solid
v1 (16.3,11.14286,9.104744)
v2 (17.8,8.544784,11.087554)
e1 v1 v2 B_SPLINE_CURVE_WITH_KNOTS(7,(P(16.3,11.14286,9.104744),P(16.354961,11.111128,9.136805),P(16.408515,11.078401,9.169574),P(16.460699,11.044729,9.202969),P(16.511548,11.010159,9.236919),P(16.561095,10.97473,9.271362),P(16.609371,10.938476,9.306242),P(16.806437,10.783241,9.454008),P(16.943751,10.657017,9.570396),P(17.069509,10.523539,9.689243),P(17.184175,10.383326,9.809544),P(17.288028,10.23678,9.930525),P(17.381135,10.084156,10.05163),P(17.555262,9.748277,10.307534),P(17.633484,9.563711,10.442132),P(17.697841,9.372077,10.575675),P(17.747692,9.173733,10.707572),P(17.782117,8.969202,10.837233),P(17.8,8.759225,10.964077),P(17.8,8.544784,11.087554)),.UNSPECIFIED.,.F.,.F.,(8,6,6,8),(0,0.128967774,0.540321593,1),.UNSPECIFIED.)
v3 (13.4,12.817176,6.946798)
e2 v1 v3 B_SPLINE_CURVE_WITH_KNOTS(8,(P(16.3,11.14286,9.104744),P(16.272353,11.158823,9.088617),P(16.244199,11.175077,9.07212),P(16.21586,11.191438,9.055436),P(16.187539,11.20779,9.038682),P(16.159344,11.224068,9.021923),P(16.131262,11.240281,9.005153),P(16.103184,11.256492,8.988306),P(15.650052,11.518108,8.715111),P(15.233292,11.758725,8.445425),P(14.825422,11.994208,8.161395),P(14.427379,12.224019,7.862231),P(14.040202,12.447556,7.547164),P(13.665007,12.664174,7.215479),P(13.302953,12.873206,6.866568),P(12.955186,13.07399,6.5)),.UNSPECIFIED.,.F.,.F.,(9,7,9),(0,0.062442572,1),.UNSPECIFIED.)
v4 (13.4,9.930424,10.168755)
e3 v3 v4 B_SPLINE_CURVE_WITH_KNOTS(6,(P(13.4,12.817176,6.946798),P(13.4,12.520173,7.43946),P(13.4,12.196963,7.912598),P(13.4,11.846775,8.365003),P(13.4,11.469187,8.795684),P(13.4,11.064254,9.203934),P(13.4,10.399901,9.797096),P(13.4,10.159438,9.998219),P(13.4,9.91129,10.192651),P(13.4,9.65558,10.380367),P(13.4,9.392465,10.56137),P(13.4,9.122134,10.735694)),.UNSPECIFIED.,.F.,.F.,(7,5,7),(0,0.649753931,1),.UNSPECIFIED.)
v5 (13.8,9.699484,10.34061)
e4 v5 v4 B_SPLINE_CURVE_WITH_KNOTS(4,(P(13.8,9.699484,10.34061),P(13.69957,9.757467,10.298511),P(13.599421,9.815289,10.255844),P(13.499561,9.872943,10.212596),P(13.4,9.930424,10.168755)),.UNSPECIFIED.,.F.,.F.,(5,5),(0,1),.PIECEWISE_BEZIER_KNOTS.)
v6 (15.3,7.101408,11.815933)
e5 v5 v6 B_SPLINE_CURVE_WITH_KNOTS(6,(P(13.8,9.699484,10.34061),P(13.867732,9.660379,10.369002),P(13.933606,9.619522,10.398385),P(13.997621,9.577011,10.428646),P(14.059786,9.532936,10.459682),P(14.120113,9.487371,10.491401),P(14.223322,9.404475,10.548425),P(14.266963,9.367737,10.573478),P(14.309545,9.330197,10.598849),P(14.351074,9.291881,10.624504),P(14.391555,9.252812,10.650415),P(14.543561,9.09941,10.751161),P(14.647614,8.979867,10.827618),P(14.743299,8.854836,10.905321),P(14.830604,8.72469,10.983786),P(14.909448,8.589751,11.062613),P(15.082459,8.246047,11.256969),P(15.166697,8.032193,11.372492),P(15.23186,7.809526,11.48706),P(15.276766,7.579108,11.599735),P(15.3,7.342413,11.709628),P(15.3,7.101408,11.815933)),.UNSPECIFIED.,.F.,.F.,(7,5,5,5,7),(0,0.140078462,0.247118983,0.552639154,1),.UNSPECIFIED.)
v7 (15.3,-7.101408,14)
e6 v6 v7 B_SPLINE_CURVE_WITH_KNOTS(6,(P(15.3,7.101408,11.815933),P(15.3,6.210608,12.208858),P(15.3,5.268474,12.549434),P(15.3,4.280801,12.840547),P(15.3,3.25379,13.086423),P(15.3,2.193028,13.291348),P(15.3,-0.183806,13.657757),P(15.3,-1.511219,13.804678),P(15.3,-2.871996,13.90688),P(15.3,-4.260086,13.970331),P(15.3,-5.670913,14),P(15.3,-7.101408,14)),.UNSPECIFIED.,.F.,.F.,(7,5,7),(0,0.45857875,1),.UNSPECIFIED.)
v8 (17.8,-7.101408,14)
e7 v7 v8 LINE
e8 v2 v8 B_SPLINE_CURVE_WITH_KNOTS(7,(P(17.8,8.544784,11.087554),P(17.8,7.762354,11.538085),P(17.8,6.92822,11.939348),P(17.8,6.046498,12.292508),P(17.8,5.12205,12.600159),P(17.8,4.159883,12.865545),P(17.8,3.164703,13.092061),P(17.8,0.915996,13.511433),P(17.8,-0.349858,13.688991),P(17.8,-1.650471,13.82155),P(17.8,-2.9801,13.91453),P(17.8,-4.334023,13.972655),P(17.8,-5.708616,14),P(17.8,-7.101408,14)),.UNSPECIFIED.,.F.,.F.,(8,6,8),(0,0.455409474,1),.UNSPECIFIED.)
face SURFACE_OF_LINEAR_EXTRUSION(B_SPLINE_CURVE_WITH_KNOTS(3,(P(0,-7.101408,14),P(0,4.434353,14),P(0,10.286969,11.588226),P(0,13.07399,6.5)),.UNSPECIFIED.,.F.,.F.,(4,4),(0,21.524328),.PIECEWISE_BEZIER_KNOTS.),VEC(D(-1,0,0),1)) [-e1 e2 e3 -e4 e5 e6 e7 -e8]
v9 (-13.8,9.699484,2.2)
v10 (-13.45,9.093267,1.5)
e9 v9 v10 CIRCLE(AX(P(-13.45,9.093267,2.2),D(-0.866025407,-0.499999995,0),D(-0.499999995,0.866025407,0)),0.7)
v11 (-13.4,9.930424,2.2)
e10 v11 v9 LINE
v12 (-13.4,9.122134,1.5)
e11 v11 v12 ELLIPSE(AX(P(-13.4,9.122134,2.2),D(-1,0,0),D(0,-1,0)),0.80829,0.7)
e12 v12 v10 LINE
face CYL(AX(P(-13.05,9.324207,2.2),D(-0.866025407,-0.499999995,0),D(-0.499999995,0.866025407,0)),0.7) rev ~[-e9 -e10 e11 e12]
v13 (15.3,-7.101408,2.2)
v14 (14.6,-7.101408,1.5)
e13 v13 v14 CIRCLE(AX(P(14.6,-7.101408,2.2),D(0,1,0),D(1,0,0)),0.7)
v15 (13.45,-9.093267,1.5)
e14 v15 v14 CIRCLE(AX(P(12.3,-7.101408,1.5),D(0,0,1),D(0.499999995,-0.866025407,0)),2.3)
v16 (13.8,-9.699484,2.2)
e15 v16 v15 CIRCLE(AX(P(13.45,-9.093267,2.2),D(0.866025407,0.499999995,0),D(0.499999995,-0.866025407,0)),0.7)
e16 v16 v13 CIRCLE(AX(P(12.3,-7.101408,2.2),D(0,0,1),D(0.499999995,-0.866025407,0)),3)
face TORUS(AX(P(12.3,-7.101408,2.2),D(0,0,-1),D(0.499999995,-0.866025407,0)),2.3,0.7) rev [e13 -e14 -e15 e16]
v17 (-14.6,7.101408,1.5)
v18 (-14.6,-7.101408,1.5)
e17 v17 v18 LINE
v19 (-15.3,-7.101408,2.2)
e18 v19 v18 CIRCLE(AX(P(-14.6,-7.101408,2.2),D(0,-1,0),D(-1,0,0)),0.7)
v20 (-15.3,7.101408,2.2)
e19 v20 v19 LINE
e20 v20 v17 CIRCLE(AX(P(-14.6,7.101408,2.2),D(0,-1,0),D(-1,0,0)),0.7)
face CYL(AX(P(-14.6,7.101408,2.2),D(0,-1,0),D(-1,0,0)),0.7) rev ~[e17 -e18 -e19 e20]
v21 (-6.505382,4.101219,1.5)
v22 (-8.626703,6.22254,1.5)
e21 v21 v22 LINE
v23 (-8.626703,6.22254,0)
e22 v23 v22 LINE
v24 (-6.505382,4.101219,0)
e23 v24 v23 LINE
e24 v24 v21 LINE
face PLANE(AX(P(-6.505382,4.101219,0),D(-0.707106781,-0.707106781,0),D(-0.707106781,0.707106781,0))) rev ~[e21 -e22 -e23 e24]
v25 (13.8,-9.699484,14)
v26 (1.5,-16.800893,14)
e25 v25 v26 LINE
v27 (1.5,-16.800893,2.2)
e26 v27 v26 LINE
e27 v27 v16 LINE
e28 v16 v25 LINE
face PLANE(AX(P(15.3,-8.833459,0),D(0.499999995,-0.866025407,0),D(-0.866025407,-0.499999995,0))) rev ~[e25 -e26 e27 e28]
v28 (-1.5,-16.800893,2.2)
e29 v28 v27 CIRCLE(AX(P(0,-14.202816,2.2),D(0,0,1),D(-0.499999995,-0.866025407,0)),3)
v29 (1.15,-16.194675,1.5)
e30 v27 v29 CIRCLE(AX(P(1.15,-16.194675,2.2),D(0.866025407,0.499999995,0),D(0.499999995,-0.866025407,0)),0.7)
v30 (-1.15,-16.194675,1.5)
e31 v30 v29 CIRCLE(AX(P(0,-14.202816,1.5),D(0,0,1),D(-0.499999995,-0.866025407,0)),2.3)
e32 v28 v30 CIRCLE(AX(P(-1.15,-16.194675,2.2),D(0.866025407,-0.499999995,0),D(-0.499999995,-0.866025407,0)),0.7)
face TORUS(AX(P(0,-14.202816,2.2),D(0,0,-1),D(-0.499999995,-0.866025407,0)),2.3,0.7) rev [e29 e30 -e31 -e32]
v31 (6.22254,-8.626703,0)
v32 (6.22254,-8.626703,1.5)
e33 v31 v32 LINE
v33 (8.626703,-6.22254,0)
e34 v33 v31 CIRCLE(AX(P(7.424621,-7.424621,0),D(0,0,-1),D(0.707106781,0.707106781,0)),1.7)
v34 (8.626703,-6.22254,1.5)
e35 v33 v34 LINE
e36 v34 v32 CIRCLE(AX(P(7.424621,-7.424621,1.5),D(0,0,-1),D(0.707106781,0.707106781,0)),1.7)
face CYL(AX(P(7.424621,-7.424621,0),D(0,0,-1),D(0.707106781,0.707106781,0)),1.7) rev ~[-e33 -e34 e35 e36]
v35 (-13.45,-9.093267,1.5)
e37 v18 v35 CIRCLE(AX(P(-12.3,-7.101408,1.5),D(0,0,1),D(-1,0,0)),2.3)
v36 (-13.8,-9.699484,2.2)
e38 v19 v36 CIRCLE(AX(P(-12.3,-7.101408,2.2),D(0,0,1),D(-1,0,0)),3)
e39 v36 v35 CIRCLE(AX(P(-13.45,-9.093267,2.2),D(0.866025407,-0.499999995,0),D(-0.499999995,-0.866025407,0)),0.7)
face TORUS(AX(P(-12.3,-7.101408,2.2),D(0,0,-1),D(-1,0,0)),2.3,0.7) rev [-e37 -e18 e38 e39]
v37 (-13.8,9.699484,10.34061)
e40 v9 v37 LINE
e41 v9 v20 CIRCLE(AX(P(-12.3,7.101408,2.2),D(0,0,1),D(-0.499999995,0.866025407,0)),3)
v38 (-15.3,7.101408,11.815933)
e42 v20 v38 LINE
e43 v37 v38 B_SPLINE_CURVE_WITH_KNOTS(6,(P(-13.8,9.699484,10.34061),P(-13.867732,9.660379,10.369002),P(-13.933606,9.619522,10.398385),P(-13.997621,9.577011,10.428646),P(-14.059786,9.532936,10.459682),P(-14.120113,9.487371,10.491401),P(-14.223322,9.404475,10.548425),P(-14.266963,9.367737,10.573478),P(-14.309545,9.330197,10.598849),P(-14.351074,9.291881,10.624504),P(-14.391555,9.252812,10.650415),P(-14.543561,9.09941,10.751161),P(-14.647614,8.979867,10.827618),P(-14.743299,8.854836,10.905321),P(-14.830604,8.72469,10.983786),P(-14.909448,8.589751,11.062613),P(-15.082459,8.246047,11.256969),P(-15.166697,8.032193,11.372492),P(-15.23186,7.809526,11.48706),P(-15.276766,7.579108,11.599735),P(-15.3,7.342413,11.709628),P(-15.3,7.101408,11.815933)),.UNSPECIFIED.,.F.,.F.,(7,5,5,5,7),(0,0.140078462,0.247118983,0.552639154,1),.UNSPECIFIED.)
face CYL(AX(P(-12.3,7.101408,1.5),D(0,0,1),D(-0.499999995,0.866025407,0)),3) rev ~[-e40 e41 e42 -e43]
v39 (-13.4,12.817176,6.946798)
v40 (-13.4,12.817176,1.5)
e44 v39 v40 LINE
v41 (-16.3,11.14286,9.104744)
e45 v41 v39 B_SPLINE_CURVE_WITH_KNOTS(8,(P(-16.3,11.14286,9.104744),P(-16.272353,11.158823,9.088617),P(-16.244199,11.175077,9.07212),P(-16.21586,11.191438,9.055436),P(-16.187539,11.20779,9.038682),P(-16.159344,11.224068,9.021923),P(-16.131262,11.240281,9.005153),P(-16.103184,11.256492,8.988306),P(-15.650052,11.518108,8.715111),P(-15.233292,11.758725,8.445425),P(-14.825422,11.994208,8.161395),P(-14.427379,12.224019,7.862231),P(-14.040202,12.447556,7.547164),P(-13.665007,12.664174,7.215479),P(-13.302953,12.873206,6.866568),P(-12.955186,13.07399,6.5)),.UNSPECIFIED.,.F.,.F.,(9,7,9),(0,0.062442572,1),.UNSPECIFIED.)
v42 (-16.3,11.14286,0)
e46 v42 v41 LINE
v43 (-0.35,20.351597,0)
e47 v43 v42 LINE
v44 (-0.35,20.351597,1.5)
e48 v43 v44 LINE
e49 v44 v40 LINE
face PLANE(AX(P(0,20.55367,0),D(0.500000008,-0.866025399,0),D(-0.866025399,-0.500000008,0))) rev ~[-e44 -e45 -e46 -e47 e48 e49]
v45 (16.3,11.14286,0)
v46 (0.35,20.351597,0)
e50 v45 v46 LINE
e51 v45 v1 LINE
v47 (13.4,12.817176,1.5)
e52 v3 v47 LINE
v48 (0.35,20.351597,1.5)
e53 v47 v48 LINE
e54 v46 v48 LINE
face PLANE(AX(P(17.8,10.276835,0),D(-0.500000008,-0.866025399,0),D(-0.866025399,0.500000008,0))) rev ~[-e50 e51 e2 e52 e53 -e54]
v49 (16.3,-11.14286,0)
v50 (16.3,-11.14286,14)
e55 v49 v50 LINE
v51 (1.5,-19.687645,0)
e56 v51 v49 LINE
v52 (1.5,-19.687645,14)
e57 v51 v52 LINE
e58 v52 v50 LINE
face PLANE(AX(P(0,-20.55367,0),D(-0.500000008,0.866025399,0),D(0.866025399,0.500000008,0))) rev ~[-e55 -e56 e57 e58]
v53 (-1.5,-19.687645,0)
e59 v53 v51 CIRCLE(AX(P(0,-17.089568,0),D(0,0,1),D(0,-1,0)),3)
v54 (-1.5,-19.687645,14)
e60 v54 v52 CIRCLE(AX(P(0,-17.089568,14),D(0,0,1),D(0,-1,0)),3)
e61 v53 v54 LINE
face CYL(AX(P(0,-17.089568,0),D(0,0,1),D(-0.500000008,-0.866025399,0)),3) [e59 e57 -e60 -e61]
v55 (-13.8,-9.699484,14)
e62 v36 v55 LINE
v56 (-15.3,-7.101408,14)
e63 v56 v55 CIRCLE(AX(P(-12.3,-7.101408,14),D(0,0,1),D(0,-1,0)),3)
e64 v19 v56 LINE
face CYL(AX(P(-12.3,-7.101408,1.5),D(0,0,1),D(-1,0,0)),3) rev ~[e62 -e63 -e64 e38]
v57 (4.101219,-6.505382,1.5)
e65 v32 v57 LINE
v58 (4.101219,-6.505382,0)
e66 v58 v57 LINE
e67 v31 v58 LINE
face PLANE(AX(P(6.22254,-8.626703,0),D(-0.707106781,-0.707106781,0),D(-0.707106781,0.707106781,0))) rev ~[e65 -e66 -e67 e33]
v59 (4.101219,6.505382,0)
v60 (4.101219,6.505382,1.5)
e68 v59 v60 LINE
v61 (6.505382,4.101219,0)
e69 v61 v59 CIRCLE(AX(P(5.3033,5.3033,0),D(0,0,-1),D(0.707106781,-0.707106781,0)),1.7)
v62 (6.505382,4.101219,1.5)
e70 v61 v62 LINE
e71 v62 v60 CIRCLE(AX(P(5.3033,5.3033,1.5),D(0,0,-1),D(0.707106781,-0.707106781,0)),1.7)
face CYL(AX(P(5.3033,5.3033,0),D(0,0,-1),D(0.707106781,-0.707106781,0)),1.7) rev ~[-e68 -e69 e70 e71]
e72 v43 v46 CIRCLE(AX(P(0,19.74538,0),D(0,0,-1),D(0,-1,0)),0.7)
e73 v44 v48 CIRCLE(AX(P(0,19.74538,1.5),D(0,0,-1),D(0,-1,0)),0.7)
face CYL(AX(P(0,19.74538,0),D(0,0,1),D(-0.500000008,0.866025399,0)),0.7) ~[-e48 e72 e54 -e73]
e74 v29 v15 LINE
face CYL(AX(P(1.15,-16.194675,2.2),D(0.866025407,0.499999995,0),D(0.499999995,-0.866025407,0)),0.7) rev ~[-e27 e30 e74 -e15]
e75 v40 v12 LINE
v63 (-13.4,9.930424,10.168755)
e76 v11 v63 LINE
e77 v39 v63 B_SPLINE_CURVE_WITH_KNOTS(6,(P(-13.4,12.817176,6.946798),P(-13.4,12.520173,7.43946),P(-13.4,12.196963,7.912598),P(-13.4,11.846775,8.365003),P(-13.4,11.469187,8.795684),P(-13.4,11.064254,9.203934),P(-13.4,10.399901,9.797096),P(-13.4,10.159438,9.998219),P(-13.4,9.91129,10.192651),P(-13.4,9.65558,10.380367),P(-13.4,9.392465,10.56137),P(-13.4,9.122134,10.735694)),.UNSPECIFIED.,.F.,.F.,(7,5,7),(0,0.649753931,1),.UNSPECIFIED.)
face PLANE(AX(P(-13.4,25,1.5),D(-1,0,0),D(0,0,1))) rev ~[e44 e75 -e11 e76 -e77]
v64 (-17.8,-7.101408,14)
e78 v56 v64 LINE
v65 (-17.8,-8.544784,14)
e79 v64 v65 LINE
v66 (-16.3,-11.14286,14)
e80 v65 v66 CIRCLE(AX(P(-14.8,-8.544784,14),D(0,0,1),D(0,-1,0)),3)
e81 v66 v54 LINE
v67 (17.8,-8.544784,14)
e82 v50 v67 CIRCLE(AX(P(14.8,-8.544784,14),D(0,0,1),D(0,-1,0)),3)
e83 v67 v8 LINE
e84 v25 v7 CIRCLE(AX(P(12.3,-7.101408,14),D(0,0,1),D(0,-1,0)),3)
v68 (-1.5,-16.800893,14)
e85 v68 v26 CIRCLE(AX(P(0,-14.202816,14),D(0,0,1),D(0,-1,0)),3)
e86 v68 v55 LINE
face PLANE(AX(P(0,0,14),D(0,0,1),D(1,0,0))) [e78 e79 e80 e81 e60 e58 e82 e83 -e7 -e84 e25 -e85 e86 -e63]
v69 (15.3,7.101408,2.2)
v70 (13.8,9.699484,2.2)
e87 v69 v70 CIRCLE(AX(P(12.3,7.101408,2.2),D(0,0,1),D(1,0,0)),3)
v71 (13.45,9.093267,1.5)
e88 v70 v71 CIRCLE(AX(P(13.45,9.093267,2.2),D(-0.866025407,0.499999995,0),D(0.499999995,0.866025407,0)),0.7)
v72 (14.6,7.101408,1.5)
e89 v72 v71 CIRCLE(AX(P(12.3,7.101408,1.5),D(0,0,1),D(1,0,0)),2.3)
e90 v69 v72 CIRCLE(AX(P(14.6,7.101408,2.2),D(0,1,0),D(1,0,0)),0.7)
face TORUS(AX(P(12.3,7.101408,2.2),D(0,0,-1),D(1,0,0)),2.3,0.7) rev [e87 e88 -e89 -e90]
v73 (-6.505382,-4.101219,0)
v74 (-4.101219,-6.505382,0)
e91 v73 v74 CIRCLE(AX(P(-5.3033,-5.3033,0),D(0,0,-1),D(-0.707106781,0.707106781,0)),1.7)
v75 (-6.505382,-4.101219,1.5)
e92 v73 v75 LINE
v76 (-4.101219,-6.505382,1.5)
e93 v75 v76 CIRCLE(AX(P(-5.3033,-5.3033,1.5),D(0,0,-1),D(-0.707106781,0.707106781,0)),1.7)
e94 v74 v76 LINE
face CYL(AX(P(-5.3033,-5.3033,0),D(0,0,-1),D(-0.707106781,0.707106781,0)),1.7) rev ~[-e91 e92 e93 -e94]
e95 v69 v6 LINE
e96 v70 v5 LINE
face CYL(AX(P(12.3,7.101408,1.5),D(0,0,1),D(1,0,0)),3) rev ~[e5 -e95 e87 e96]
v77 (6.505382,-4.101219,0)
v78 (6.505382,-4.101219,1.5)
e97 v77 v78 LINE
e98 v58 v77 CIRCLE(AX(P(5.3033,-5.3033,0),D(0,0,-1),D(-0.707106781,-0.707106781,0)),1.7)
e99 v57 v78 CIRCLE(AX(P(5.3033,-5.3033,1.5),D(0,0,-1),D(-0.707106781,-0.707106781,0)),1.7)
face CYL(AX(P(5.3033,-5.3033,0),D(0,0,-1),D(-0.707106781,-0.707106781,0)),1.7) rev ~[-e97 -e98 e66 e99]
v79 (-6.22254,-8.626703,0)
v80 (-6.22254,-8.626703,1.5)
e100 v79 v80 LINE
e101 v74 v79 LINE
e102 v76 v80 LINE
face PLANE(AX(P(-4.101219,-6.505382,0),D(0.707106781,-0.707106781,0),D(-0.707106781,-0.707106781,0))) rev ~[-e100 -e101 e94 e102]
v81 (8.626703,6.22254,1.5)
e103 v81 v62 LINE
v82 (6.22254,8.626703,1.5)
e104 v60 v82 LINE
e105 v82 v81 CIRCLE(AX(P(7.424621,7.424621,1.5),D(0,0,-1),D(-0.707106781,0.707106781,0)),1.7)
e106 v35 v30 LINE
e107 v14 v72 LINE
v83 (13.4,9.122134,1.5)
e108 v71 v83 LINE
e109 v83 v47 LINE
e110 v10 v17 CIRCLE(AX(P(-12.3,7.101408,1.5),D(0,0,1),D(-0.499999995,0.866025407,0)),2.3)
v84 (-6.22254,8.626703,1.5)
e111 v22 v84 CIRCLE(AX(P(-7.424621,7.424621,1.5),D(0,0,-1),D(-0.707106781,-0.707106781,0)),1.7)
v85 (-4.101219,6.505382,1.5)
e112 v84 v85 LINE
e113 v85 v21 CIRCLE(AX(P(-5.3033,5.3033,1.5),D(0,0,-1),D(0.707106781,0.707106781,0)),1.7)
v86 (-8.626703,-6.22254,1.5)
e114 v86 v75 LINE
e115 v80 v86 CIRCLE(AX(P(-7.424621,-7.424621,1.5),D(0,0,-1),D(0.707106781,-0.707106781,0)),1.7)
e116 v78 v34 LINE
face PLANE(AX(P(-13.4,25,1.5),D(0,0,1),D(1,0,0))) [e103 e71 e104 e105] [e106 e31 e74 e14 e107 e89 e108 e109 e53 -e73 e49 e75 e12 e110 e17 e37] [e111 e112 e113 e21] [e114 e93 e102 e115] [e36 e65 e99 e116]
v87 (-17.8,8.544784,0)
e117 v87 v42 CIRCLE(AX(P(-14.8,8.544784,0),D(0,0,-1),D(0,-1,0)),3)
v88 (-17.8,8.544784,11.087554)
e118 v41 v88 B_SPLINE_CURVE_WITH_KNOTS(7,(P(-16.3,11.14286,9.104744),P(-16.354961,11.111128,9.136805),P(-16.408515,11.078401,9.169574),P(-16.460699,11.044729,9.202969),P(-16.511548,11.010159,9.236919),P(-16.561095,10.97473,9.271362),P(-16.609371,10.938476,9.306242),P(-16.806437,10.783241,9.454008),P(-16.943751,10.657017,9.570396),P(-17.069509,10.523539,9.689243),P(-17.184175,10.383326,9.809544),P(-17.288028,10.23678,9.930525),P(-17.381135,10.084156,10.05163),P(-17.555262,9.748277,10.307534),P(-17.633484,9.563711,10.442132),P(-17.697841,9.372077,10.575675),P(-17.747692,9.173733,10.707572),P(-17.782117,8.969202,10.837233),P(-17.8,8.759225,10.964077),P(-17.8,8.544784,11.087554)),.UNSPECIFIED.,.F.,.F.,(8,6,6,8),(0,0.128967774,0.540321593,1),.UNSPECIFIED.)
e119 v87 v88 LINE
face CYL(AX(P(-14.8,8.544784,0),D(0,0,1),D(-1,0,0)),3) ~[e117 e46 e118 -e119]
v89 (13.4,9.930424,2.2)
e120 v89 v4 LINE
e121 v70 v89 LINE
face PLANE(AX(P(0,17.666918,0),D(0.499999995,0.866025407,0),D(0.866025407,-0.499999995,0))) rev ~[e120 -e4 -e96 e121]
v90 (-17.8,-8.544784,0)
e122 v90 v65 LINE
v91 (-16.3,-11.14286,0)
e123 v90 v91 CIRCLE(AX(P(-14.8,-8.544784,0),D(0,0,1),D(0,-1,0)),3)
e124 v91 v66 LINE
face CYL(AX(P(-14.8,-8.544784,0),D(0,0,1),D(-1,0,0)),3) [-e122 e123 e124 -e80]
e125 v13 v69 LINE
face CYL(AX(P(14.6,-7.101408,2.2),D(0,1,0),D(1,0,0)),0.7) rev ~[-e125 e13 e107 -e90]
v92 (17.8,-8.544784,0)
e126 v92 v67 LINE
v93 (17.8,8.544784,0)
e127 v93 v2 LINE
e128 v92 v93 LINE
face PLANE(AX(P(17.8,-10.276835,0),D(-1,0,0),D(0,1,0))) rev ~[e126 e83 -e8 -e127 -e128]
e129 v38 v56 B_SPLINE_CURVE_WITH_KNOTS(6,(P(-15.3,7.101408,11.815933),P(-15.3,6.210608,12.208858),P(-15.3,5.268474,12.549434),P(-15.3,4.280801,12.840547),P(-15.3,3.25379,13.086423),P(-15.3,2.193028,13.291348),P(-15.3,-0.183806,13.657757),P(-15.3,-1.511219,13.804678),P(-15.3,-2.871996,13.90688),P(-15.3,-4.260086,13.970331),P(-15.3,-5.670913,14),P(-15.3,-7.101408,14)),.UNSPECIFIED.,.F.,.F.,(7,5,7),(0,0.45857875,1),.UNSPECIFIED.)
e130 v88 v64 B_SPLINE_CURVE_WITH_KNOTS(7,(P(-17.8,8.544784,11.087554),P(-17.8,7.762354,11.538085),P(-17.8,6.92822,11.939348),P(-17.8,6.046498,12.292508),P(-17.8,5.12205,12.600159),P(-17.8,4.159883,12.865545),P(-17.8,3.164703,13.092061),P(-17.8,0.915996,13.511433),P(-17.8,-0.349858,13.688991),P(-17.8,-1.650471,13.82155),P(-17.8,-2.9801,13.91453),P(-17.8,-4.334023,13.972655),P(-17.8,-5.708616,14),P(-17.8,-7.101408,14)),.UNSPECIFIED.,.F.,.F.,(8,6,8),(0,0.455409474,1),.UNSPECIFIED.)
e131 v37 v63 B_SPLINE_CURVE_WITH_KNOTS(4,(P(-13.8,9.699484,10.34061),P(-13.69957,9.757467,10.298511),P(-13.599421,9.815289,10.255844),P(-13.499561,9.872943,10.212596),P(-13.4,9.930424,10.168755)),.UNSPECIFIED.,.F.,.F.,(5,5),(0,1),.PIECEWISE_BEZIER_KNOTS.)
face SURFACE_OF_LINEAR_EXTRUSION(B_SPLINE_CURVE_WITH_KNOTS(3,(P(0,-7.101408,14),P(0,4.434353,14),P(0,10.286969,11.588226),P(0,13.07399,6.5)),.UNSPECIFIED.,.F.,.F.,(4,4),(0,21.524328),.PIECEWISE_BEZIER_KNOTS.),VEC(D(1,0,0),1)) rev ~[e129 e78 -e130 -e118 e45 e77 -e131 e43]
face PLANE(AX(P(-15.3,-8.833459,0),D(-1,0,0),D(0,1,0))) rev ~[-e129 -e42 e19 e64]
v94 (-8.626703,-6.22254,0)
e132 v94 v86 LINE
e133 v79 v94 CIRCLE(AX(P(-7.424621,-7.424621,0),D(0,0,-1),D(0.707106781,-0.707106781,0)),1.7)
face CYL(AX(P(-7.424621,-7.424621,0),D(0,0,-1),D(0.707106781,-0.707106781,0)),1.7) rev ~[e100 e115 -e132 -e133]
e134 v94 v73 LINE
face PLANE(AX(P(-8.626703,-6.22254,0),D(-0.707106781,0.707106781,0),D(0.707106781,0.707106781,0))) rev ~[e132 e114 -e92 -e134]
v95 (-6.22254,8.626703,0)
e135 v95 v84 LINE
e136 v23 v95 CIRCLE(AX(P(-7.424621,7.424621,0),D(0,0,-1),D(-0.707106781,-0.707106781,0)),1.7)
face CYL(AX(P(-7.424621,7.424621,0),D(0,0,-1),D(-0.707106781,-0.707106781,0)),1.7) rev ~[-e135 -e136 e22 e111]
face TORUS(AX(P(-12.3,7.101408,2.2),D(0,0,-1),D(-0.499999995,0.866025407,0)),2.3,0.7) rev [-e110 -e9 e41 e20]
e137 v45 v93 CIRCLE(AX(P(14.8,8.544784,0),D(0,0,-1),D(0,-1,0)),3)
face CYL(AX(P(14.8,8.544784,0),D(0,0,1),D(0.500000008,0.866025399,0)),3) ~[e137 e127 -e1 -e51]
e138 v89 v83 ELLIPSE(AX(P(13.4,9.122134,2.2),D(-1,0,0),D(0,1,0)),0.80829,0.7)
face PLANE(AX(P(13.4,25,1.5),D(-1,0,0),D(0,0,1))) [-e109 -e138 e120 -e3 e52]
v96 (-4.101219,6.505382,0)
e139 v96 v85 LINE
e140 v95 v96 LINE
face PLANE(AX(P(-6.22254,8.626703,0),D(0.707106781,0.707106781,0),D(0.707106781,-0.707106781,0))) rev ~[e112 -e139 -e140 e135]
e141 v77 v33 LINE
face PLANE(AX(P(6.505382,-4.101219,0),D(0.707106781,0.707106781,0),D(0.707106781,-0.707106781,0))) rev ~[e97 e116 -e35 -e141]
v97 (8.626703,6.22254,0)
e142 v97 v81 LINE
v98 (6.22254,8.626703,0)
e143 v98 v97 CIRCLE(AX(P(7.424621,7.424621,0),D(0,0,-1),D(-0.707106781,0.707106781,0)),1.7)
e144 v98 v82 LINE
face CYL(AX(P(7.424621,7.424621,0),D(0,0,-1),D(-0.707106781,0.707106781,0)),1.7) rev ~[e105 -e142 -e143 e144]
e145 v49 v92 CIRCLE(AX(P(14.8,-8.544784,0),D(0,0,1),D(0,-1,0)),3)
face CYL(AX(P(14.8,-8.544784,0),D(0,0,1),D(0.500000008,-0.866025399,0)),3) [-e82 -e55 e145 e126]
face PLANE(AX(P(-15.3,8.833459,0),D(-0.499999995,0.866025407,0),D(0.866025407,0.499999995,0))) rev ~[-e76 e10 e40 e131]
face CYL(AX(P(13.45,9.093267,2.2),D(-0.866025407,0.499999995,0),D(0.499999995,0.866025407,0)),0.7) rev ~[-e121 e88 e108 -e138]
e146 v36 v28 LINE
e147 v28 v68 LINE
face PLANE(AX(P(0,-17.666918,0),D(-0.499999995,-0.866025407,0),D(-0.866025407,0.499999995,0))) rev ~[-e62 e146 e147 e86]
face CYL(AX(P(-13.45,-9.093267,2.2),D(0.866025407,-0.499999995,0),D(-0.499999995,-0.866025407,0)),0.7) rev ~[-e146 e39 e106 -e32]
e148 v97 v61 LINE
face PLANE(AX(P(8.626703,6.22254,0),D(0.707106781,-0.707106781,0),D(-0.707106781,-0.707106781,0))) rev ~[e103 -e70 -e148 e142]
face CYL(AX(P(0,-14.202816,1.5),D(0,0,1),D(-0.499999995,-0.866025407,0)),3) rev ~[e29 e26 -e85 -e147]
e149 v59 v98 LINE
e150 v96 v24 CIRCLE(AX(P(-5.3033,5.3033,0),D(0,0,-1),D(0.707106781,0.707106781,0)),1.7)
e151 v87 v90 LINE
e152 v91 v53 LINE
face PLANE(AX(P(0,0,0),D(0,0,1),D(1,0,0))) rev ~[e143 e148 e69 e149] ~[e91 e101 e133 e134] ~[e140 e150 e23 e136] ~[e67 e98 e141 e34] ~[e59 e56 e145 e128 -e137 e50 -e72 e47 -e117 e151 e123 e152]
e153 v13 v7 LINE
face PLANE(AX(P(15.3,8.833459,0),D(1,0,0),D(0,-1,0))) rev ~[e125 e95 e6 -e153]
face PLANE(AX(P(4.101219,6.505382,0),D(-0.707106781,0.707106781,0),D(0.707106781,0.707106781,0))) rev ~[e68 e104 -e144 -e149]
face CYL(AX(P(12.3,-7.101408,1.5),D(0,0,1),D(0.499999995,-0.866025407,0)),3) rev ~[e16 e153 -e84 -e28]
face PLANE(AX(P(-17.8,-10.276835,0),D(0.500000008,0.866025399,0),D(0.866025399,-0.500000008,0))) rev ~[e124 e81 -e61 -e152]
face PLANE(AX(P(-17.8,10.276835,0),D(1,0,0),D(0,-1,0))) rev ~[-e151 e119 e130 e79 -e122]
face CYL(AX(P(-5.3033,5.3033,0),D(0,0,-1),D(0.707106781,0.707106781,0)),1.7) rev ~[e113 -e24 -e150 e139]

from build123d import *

# Parameters (mm, degrees)
F1_DEPTH = 1.5
F2_DEPTH = 14
F4_W     = 26.8
F4_H     = 15.749622
F5_DEPTH = 26
F6_R     = 3
F7_R     = 0.7
F9_DEPTH = 18.8


with BuildPart() as f1:
    # F0 (on Top) → F1 (new body)
    with BuildSketch(Plane.XY):
        Polygon((0, -17.666918), (15.3, -8.833459), (15.3, 8.833459), (0, 17.666918), (-15.3, 8.833459), (-15.3, -8.833459), align=None)
        with BuildLine():
            ThreePointArc((-6.22254, -8.626703), (-8.626703, -8.626703), (-8.626703, -6.22254))
            Line((-8.626703, -6.22254), (-6.505382, -4.101219))
            ThreePointArc((-6.505382, -4.101219), (-4.101219, -4.101219), (-4.101219, -6.505382))
            Line((-4.101219, -6.505382), (-6.22254, -8.626703))
        make_face(mode=Mode.SUBTRACT)
        with BuildLine():
            ThreePointArc((8.626703, -6.22254), (8.626703, -8.626703), (6.22254, -8.626703))
            Line((6.22254, -8.626703), (4.101219, -6.505382))
            ThreePointArc((4.101219, -6.505382), (4.101219, -4.101219), (6.505382, -4.101219))
            Line((6.505382, -4.101219), (8.626703, -6.22254))
        make_face(mode=Mode.SUBTRACT)
        with BuildLine():
            ThreePointArc((-8.626703, 6.22254), (-8.626703, 8.626703), (-6.22254, 8.626703))
            Line((-6.22254, 8.626703), (-4.101219, 6.505382))
            ThreePointArc((-4.101219, 6.505382), (-4.101219, 4.101219), (-6.505382, 4.101219))
            Line((-6.505382, 4.101219), (-8.626703, 6.22254))
        make_face(mode=Mode.SUBTRACT)
        with BuildLine():
            Line((4.101219, 6.505382), (6.22254, 8.626703))
            ThreePointArc((6.22254, 8.626703), (8.626703, 8.626703), (8.626703, 6.22254))
            Line((8.626703, 6.22254), (6.505382, 4.101219))
            ThreePointArc((6.505382, 4.101219), (4.101219, 4.101219), (4.101219, 6.505382))
        make_face(mode=Mode.SUBTRACT)
    extrude(amount=F1_DEPTH)

    # F0 (on Top) → F2 (join)
    with BuildSketch(Plane.XY):
        Polygon((-17.8, 10.276835), (-17.8, -10.276835), (0, -20.55367), (17.8, -10.276835), (17.8, 10.276835), (0, 20.55367), align=None)
        Polygon((15.3, 8.833459), (15.3, -8.833459), (0, -17.666918), (-15.3, -8.833459), (-15.3, 8.833459), (0, 17.666918), align=None, mode=Mode.SUBTRACT)
    extrude(amount=F2_DEPTH)

    # F4 (on offset) → F5 (cut)
    with BuildSketch(Plane.XZ.offset(-25)):
        with Locations((0, 9.374811)):
            Rectangle(F4_W, F4_H)
    extrude(amount=F5_DEPTH, mode=Mode.SUBTRACT)

    # F6
    f6_edges = [f1.edges().sort_by_distance(p)[0] for p in [
        (17.8, 10.276835, 7),
        (-17.8, 10.276835, 7),
        (-17.8, -10.276835, 7),
        (0, -20.55367, 7),
        (17.8, -10.276835, 7),
        (15.3, 8.833459, 7.75),
        (15.3, -8.833459, 7.75),
        (0, -17.666918, 7.75),
        (-15.3, -8.833459, 7.75),
        (-15.3, 8.833459, 7.75),
    ]]
    fillet(f6_edges, radius=F6_R)

    # F7
    f7_edges = [f1.edges().sort_by_distance(p)[0] for p in [
        (-13.6, 9.814955, 1.5),
        (0, 20.55367, 0.75),
    ]]
    fillet(f7_edges, radius=F7_R)

    # F8 (on Right) → F9 (cut, symmetric)
    with BuildSketch(Plane.YZ):
        with BuildLine():
            Line((13.07399, 14), (-7.101408, 14))
            add(Edge.make_bspline(
                [(-7.101408, 14), (4.434353, 14), (10.286969, 11.588226), (13.07399, 6.5)],
                knots=[0, 0, 0, 0, 21.524328, 21.524328, 21.524328, 21.524328], degree=3))
            Line((13.07399, 6.5), (13.07399, 14))
        make_face()
    extrude(amount=F9_DEPTH, both=True, mode=Mode.SUBTRACT)


solid = f1.part
